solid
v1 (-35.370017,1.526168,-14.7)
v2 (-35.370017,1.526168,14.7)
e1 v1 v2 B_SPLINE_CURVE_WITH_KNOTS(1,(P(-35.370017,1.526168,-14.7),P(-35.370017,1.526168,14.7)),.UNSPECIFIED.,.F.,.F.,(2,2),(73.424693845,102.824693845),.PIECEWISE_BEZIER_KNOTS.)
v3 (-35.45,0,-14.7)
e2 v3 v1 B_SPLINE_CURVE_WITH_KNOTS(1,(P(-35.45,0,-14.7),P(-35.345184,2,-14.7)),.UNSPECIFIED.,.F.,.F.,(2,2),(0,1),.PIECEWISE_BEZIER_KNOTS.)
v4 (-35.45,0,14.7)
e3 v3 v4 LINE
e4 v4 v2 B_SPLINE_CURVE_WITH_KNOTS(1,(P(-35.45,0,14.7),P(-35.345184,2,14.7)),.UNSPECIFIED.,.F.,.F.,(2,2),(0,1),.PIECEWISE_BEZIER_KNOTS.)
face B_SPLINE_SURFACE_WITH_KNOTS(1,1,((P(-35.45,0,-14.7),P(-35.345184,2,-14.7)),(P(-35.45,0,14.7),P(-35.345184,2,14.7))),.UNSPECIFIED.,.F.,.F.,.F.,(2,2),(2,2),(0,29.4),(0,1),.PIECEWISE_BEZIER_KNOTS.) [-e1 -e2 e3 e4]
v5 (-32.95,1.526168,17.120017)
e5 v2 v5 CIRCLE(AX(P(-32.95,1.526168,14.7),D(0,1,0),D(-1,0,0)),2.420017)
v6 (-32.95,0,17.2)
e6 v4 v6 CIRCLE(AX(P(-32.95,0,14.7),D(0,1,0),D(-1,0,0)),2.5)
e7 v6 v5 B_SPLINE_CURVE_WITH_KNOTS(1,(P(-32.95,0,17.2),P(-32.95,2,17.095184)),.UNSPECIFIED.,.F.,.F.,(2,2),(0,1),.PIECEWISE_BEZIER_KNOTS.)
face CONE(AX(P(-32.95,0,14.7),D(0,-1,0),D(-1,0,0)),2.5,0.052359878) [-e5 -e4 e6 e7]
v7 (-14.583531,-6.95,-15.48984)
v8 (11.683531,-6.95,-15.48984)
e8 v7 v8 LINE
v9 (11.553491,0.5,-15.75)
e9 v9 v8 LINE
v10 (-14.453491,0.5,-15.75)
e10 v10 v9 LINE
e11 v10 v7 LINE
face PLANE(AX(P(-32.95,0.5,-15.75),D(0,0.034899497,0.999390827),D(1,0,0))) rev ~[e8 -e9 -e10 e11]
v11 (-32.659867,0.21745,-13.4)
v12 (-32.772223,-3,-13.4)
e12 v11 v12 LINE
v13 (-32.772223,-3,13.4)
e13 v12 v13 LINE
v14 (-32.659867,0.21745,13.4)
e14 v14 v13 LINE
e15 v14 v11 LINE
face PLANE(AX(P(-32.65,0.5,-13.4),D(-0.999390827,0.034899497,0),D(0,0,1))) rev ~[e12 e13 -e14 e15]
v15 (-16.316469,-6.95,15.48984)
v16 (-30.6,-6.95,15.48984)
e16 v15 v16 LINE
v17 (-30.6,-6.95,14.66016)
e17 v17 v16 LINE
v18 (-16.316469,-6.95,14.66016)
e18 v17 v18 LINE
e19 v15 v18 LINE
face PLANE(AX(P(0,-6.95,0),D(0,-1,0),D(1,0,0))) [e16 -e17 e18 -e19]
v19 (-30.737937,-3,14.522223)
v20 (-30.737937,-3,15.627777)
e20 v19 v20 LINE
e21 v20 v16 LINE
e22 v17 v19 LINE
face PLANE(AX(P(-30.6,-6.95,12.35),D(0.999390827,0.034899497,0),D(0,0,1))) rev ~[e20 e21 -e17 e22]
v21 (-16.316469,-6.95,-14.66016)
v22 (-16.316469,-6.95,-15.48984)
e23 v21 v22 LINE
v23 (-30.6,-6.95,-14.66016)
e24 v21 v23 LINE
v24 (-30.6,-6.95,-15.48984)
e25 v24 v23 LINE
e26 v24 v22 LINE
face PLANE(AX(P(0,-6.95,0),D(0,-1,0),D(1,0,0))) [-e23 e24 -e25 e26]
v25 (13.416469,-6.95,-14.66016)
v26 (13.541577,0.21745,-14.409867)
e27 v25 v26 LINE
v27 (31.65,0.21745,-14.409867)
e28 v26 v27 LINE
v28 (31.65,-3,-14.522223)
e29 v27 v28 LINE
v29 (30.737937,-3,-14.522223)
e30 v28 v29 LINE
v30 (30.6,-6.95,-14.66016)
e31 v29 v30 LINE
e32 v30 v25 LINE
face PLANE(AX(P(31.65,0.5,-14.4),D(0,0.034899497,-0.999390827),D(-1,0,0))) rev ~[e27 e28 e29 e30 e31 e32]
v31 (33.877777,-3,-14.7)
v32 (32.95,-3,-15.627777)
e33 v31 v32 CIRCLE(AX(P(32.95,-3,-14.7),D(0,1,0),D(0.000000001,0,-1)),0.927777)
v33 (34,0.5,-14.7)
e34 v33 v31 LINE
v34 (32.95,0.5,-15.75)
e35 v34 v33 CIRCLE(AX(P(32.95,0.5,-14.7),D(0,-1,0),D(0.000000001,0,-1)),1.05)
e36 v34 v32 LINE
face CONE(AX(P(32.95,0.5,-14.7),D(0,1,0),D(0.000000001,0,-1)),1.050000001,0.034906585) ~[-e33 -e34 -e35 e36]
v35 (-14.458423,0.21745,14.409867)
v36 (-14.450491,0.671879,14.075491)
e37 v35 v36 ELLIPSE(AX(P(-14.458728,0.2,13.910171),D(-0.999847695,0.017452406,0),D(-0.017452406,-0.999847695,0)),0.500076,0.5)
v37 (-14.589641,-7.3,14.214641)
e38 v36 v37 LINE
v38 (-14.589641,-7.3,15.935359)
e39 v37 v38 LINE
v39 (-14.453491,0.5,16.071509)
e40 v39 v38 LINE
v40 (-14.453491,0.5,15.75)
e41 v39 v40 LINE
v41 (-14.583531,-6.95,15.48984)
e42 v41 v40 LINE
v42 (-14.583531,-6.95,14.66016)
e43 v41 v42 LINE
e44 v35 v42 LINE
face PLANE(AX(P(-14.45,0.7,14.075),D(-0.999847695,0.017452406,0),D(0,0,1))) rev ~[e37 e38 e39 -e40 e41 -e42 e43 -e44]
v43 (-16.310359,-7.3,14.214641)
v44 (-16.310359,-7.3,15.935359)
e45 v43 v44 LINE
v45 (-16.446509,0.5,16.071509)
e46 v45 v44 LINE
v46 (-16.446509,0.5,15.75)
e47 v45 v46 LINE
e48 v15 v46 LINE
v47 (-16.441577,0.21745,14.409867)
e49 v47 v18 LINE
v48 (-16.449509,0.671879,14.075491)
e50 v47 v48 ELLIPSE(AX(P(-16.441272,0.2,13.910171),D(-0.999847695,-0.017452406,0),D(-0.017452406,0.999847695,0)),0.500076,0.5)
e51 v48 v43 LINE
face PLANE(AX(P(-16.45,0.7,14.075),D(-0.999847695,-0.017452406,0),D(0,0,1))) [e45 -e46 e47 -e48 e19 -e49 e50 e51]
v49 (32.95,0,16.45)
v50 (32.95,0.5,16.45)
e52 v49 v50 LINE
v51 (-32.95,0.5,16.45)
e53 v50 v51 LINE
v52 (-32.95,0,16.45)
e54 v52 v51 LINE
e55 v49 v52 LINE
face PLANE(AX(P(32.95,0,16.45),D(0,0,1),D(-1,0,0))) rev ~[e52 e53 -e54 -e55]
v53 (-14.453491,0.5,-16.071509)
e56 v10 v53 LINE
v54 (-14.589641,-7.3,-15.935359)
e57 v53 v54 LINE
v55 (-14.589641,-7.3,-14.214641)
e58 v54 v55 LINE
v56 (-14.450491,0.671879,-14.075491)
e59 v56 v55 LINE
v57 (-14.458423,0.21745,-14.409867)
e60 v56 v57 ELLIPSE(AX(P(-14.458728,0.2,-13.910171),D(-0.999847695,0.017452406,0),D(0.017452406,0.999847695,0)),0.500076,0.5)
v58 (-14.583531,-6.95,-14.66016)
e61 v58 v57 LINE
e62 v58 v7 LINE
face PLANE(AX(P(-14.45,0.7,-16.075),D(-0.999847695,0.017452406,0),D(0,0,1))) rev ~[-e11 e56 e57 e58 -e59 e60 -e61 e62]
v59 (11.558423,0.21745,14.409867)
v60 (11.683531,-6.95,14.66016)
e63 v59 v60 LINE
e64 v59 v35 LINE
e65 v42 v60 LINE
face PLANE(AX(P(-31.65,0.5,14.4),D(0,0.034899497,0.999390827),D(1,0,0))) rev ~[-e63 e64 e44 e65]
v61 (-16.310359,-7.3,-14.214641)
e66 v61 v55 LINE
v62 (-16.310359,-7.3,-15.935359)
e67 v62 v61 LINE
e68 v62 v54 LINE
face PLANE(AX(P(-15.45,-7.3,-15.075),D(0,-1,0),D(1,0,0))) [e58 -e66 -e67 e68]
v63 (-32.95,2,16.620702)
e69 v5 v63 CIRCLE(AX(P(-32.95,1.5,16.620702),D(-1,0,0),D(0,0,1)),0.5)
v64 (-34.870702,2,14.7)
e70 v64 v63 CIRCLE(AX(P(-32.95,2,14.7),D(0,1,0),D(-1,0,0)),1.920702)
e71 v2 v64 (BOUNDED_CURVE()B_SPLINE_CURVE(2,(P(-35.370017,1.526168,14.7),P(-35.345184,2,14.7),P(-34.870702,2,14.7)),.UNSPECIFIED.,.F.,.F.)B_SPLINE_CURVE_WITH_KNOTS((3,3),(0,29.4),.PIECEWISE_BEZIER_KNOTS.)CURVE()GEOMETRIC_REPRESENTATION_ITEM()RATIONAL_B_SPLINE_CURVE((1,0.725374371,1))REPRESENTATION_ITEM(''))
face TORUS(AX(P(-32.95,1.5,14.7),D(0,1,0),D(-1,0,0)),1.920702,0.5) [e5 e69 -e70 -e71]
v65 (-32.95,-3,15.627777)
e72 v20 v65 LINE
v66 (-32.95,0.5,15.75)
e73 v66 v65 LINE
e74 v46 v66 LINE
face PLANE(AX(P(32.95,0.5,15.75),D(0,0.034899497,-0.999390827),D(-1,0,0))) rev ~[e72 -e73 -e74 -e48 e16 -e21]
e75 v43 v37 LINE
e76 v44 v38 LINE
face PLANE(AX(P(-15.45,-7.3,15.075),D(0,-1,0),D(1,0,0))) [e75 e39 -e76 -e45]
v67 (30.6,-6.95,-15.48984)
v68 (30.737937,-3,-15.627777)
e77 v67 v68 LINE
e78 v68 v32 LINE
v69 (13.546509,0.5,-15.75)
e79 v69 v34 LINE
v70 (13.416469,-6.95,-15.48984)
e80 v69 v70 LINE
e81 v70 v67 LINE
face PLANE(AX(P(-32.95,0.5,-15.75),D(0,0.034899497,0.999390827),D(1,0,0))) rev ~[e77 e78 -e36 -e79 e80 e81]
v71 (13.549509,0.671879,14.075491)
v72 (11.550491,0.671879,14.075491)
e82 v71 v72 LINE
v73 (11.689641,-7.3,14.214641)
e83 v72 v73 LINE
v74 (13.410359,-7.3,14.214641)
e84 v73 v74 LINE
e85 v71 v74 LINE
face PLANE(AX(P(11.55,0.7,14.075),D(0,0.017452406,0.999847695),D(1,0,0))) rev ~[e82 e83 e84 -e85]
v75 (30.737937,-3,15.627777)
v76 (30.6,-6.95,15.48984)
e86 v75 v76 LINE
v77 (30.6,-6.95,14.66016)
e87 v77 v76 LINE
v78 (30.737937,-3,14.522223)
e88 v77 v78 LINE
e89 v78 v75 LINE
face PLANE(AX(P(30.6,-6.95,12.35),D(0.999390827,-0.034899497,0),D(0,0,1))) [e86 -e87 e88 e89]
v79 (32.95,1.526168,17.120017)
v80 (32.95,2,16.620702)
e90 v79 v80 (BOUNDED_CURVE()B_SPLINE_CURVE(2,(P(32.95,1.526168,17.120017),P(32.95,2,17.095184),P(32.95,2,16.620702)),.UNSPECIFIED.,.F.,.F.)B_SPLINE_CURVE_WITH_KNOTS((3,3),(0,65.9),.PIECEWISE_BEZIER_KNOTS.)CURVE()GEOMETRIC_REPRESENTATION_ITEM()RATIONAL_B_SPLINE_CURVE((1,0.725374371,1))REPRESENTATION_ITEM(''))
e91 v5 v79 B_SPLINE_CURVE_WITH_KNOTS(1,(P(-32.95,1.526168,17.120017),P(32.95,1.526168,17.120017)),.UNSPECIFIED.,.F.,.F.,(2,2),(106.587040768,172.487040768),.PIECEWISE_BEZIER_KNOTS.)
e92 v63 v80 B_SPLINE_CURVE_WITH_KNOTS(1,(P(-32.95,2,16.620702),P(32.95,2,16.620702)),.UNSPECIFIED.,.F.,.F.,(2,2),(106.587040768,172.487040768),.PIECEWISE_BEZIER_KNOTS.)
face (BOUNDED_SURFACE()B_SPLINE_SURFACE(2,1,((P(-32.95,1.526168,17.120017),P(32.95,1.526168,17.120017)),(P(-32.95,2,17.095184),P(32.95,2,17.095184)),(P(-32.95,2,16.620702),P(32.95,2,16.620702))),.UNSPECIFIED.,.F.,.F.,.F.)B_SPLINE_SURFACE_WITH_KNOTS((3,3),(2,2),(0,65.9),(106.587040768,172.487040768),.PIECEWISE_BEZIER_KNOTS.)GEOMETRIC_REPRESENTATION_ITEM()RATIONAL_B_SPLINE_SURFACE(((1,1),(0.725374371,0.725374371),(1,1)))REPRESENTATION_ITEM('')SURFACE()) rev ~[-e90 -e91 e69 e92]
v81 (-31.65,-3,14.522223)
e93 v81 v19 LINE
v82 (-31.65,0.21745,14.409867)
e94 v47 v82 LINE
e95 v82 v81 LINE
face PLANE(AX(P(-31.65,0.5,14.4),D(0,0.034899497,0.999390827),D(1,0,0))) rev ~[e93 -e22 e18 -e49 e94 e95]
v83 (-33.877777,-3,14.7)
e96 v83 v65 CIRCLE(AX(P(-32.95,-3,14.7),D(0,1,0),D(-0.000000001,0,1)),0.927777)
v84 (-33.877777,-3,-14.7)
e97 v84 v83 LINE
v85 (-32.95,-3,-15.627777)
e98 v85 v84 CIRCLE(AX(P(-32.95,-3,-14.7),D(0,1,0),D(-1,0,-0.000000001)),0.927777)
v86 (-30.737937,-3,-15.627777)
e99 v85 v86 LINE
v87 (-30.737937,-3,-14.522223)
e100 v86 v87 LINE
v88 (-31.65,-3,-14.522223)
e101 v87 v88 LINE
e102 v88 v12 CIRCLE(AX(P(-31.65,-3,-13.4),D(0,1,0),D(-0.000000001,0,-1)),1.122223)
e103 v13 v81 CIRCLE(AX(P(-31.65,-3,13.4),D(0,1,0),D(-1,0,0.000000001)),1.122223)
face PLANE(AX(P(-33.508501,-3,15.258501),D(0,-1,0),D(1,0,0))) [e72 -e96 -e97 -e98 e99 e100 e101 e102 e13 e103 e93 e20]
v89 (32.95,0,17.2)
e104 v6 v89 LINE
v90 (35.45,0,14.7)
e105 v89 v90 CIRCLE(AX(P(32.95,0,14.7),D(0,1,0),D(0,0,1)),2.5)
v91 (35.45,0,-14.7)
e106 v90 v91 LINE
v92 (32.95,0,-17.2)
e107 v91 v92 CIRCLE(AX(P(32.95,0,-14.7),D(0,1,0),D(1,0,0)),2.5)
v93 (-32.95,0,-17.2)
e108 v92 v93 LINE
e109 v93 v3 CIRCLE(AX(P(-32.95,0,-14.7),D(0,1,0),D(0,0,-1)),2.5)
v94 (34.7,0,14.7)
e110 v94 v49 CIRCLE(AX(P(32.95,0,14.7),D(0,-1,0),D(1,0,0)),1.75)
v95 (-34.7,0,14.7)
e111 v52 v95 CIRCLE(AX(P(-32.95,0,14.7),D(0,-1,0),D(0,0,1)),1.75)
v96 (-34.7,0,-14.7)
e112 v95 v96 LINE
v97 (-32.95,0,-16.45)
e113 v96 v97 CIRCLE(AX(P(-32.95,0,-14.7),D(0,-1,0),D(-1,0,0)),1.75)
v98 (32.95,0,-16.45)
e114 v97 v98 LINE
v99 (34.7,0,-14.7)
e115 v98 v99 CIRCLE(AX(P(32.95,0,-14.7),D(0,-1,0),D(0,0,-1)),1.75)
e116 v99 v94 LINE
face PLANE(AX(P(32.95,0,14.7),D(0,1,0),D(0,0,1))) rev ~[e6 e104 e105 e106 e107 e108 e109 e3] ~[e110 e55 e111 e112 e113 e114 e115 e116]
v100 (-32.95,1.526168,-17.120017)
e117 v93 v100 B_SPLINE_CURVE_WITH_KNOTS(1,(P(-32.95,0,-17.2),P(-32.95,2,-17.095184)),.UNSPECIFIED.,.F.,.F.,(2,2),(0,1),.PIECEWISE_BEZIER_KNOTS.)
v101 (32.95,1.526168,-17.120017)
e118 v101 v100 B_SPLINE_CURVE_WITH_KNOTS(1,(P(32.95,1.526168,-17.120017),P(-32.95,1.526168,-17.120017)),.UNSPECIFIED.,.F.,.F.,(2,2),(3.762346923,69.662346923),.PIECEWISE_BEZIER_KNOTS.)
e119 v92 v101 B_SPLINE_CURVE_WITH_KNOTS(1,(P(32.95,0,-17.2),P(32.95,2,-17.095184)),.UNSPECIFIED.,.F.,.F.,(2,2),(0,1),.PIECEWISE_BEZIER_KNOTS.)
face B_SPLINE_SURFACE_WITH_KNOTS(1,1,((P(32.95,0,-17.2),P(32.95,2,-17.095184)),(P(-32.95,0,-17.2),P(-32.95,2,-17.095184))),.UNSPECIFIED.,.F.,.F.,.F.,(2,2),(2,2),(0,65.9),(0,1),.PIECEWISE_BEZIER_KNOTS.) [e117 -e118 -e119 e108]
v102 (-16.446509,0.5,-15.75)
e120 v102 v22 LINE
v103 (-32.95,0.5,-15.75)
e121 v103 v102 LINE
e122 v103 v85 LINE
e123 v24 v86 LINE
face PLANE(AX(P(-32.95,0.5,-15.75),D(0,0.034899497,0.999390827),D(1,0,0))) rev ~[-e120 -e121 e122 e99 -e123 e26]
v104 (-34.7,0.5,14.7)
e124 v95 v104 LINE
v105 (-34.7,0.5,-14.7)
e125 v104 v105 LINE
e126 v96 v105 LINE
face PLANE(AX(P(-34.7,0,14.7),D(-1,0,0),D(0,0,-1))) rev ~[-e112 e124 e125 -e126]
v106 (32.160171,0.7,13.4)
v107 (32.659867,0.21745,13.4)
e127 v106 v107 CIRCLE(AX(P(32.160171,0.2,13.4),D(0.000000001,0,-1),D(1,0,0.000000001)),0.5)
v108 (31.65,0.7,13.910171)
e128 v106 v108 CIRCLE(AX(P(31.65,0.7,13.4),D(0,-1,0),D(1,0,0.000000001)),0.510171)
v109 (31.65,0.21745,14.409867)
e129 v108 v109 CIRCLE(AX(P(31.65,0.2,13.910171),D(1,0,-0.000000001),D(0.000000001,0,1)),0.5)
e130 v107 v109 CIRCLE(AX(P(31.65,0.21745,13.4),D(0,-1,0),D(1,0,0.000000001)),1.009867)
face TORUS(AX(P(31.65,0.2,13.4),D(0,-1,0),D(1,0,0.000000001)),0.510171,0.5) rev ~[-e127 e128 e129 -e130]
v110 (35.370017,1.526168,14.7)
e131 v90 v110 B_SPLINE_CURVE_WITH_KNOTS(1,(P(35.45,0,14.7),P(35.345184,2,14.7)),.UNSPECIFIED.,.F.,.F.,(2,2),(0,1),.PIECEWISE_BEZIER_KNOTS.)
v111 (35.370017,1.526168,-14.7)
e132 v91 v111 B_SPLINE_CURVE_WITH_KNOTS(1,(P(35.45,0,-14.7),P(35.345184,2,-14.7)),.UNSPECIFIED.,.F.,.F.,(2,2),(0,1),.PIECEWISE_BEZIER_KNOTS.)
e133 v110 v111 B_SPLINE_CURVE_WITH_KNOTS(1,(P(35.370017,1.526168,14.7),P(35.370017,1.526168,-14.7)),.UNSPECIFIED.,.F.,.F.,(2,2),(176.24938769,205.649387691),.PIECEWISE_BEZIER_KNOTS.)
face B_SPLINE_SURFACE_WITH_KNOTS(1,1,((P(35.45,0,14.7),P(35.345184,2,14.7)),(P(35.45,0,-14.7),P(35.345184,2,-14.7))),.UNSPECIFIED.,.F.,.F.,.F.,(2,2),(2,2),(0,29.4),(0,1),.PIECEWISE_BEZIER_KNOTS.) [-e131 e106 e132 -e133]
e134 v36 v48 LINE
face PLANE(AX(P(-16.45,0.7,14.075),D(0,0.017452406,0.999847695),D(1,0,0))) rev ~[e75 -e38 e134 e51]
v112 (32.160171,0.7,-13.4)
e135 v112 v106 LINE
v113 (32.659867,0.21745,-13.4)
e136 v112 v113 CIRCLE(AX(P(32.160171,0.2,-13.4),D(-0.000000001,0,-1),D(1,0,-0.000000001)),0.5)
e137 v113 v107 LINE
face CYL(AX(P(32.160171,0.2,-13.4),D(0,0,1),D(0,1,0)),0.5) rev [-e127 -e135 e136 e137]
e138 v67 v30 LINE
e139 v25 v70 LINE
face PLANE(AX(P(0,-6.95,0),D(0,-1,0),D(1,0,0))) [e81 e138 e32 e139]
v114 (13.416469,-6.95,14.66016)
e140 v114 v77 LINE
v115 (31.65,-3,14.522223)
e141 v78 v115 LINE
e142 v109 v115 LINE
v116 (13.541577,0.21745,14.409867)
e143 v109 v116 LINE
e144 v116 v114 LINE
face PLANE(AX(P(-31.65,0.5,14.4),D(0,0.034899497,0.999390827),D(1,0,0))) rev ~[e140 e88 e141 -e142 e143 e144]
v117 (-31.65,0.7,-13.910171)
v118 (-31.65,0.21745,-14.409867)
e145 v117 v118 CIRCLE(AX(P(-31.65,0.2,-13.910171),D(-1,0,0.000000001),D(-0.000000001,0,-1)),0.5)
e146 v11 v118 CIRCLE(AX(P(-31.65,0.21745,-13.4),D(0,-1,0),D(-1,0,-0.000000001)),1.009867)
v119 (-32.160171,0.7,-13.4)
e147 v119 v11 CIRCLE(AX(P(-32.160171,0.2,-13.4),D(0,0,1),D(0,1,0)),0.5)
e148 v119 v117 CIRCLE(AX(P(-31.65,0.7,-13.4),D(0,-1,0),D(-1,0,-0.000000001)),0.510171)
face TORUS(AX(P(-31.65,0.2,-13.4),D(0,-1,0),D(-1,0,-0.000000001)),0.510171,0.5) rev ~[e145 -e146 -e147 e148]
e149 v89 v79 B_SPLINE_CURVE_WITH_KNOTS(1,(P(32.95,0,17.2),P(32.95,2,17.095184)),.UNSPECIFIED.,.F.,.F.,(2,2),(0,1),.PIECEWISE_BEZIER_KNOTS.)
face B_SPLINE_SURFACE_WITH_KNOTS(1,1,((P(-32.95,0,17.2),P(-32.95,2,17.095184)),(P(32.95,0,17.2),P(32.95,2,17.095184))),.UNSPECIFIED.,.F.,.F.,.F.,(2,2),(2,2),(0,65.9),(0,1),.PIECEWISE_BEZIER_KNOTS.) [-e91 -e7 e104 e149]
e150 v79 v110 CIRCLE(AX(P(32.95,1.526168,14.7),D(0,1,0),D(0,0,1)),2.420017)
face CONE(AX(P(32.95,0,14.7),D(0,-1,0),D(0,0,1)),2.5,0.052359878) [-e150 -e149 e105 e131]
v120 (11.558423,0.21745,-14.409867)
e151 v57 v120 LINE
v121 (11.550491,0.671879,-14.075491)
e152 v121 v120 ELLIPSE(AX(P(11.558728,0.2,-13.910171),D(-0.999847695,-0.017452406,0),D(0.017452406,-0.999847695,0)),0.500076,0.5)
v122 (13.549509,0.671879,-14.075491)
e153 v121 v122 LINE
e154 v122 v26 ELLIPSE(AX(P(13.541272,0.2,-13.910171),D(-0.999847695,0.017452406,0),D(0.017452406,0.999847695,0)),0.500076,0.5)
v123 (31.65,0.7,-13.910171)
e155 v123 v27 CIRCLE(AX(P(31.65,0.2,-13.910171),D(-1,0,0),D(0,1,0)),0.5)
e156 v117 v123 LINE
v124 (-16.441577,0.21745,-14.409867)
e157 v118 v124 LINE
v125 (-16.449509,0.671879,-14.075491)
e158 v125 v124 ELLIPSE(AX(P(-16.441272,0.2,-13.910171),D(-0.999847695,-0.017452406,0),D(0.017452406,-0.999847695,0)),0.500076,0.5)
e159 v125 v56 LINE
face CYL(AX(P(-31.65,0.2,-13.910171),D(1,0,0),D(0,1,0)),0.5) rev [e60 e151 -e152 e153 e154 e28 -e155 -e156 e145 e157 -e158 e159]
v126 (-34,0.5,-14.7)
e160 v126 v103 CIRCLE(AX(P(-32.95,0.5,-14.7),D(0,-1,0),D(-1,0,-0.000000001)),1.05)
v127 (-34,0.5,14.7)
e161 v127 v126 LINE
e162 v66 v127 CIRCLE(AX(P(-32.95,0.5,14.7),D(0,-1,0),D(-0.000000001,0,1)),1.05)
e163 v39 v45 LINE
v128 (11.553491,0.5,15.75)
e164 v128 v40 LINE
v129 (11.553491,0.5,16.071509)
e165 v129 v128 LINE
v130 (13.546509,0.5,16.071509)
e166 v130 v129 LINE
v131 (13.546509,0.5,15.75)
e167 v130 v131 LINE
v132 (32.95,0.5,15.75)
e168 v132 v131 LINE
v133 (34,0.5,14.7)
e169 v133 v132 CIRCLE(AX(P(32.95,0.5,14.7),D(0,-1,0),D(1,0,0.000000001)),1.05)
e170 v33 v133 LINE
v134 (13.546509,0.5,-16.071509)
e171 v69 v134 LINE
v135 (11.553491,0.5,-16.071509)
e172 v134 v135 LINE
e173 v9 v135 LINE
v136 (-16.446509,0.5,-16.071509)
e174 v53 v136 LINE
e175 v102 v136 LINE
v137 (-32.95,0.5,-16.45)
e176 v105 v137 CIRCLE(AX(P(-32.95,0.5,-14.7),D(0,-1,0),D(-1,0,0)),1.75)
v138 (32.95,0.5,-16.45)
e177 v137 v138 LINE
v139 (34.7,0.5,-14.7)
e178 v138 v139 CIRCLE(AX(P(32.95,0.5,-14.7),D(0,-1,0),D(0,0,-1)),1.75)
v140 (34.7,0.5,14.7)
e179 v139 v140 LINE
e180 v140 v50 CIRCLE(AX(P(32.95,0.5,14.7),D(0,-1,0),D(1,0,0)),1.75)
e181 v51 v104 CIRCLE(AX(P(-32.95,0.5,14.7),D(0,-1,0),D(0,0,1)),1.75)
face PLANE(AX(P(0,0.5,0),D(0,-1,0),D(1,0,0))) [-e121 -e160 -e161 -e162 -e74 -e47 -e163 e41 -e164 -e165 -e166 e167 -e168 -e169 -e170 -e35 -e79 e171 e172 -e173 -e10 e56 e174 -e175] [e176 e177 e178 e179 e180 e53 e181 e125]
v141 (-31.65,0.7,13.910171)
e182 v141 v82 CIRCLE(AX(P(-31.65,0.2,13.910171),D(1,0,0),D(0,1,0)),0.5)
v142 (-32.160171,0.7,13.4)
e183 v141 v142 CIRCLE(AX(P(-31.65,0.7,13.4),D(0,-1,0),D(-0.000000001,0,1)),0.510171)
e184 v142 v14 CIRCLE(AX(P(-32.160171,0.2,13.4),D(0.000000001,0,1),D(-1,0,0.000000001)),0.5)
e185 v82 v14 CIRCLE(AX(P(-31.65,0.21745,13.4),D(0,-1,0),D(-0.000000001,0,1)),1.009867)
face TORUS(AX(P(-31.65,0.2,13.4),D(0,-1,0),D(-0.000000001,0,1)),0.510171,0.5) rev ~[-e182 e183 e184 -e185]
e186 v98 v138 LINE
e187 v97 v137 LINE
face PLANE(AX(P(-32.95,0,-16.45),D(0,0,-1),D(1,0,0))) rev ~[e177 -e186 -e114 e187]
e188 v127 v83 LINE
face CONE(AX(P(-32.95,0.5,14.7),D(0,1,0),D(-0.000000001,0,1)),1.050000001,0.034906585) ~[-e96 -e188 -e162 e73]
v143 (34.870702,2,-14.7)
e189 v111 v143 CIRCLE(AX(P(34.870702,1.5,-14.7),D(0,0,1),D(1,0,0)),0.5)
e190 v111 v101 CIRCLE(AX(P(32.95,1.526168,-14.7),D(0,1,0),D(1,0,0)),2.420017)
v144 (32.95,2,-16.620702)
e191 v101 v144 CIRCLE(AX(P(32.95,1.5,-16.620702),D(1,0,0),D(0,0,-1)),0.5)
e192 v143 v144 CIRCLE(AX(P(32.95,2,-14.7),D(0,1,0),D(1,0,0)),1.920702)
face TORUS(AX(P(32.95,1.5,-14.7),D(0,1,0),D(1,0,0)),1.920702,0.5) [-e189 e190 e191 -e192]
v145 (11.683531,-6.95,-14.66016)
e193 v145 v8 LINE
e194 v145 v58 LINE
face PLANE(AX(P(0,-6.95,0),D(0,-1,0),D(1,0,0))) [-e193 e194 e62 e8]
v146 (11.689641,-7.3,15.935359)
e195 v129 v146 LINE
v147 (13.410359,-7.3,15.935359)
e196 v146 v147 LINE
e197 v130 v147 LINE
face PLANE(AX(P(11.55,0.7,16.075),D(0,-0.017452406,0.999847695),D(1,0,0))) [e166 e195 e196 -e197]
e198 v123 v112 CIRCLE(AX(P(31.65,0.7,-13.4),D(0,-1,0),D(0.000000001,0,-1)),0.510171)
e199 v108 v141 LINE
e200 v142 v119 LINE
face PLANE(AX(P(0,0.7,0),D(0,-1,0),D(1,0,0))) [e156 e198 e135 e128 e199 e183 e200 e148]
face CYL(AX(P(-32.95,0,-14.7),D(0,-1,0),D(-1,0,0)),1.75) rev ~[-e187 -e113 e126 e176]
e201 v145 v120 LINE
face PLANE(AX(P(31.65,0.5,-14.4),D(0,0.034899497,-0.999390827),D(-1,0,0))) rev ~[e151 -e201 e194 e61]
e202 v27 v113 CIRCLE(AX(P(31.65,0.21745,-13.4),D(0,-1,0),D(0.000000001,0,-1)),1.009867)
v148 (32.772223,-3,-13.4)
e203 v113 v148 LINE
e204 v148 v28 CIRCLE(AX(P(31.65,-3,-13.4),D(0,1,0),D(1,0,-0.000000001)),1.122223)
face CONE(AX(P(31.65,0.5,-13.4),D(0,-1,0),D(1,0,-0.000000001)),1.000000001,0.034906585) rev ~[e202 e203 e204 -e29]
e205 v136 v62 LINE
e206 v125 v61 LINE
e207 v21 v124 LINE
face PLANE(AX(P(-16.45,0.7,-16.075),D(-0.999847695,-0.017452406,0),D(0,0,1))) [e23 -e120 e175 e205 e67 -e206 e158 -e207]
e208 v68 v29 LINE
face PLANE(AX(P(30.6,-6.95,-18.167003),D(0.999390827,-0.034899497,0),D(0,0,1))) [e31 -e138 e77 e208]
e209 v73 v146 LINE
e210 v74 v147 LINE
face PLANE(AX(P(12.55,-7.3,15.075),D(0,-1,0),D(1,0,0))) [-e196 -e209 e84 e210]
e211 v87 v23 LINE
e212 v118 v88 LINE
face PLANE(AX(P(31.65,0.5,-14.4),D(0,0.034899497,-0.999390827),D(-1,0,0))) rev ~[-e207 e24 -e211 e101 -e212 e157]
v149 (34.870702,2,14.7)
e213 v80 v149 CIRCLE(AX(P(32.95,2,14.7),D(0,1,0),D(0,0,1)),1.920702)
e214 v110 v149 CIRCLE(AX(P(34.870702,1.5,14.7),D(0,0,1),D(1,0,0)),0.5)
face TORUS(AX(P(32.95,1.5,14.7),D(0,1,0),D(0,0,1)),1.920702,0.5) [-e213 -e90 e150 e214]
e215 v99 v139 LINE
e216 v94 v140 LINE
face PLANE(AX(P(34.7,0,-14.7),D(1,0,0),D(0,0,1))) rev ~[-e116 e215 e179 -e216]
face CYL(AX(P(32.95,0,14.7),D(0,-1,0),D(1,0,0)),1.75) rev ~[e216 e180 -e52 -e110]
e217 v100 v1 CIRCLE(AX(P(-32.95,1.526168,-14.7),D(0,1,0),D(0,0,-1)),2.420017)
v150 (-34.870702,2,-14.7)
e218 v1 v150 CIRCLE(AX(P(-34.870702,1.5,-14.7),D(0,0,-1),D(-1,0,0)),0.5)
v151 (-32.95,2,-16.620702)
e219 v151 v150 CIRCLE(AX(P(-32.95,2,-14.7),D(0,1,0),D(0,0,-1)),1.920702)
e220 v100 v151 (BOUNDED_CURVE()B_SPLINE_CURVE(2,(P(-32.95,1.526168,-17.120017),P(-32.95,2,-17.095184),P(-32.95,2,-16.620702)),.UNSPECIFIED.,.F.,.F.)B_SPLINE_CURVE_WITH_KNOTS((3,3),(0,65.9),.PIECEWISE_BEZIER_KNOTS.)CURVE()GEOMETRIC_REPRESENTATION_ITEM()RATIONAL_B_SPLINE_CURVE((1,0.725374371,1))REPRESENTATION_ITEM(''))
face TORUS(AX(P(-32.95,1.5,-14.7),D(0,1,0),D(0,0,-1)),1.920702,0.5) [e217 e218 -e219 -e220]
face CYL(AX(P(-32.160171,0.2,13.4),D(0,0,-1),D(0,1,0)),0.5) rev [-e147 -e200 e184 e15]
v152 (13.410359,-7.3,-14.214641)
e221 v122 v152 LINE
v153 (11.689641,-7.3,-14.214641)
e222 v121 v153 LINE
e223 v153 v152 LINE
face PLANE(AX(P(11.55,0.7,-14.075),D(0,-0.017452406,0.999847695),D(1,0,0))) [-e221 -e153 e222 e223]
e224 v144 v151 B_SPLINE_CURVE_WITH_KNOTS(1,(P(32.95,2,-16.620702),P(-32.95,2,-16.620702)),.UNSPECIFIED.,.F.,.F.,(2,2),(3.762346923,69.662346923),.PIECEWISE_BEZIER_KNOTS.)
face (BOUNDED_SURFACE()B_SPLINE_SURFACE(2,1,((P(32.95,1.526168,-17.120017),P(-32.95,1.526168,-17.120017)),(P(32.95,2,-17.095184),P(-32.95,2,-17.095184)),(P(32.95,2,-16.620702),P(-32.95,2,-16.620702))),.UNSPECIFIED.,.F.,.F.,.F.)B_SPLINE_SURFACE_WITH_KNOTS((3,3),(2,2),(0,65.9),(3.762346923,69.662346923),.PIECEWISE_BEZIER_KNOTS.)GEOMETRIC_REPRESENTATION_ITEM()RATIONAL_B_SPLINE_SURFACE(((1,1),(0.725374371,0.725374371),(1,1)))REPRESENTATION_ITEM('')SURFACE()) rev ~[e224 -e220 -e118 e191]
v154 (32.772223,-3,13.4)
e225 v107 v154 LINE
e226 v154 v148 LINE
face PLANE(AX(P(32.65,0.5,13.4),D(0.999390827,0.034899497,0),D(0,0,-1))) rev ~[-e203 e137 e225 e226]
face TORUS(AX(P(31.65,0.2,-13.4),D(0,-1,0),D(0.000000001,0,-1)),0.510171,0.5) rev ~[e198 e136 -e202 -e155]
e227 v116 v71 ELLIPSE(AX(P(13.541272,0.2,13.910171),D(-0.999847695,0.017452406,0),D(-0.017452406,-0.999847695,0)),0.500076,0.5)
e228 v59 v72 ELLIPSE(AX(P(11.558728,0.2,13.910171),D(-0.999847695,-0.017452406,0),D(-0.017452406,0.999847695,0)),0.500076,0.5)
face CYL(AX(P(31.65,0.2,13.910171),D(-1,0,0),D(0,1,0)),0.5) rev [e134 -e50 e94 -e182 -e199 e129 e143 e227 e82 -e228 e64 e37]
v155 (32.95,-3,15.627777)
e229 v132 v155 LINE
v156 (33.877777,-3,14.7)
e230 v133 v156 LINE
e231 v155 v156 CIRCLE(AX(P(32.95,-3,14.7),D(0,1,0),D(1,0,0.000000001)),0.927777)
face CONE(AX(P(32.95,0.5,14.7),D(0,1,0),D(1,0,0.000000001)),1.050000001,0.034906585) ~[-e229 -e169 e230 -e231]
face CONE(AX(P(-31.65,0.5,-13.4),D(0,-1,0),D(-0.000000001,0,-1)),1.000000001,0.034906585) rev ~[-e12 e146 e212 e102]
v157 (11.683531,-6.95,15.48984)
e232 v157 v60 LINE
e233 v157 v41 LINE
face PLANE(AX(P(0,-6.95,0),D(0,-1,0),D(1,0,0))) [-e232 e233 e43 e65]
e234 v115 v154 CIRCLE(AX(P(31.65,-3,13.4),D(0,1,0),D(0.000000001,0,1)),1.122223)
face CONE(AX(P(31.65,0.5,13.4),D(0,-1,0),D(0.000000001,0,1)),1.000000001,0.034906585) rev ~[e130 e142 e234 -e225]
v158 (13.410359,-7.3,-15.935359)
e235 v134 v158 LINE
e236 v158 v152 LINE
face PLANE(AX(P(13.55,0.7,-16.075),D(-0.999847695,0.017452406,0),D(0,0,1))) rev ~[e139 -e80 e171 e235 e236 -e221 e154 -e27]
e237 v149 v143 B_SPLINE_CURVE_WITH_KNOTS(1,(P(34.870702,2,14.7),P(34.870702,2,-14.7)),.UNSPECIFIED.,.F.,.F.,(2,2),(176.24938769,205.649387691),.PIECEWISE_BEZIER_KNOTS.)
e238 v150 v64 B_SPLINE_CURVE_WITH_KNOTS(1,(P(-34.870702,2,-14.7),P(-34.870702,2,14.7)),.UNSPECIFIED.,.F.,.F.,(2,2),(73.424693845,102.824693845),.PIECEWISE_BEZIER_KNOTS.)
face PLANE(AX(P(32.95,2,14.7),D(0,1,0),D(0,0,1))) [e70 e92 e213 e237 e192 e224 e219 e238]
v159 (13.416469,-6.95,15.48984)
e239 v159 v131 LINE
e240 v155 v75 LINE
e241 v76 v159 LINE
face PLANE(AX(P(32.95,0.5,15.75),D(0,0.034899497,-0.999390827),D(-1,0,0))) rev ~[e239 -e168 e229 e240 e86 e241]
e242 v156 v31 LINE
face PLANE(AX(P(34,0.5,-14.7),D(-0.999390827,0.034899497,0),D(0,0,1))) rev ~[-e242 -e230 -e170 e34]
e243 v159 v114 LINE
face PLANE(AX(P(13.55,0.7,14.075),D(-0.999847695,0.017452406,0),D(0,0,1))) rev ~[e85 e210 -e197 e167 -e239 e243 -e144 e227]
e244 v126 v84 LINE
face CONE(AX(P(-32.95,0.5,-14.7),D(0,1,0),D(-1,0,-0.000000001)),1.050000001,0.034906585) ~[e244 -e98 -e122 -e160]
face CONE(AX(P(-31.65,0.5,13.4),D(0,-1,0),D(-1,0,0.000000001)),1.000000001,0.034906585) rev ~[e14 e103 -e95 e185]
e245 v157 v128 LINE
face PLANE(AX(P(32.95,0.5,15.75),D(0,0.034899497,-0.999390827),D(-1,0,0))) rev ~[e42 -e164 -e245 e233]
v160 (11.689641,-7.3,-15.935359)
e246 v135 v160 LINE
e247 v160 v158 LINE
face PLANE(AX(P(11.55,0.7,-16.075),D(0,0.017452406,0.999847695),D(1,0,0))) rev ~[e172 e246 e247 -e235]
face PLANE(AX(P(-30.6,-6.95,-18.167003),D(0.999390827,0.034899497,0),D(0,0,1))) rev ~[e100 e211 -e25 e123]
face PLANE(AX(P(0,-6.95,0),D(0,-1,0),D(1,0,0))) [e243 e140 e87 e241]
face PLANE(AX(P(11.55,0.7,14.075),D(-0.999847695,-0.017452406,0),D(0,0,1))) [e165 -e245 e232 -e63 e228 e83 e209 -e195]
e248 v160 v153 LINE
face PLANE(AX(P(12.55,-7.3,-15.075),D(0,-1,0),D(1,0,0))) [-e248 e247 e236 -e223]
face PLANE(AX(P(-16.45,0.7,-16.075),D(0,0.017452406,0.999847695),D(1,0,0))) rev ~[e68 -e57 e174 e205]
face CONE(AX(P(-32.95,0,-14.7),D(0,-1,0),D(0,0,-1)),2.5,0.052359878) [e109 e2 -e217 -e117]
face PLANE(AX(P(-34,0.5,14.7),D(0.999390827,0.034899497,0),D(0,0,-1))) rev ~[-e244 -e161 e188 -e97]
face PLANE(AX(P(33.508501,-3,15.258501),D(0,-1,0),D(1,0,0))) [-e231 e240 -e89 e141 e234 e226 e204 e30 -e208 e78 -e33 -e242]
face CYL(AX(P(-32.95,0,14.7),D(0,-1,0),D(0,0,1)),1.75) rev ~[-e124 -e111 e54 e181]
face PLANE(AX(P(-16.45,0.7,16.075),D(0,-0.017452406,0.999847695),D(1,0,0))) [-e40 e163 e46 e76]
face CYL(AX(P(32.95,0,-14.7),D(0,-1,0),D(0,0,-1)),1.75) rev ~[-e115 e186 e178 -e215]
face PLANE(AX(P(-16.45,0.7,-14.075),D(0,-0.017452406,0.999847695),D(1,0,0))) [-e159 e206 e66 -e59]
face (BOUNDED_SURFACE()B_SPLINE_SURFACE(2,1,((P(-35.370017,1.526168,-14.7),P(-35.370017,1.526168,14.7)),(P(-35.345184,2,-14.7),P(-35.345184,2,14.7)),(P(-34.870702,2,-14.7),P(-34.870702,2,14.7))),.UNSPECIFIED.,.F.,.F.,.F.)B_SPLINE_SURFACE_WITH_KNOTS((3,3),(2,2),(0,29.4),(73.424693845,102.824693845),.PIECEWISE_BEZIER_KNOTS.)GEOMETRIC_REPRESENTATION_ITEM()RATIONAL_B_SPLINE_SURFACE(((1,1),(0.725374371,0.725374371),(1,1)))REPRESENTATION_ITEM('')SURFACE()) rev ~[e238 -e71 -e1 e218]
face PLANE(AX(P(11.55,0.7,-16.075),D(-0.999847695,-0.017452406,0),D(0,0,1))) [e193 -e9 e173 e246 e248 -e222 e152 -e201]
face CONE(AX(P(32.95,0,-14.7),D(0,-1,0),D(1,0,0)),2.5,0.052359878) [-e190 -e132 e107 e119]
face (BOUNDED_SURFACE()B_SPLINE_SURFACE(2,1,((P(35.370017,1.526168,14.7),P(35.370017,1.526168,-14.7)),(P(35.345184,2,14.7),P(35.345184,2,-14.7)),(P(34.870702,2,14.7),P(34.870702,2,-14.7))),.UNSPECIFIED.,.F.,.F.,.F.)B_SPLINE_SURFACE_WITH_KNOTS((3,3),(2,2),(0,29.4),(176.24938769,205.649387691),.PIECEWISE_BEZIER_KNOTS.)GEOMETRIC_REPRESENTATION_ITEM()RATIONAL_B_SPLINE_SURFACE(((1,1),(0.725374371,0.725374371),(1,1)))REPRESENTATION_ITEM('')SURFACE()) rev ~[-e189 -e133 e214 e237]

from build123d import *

# Parameters (mm, degrees)
BOSS_EXTRUDE1_DEPTH           = 2
BOSS_EXTRUDE1_TAPER           = 3
FILLET1_R                     = 0.5
CUT_EXTRUDE1_DEPTH            = 0.5
BOSS_EXTRUDE2_DEPTH           = 7.45
BOSS_EXTRUDE2_DRAFT           = 2
CUT_EXTRUDE2_DEPTH            = 0.2
CUT_EXTRUDE2_DRAFT            = -2
SKETCH7_W                     = 80
SKETCH7_H                     = 26.5
CUT_EXTRUDE3_DEPTH            = 3.95
SKETCH6_W                     = 5.817002818
SKETCH6_H                     = 5.817002818
CUT_EXTRUDE4_DEPTH            = 3.95
CUT_EXTRUDE4_DRAFT            = -2
CUT_EXTRUDE4_PROFILE_2_DEPTH  = 3.95
CUT_EXTRUDE4_PROFILE_2_DRAFT  = -2
CUT_EXTRUDE4_PROFILE_3_DEPTH  = 3.95
CUT_EXTRUDE4_PROFILE_3_DRAFT  = -2
CUT_EXTRUDE4_PROFILE_4_DEPTH  = 3.95
CUT_EXTRUDE4_PROFILE_4_DRAFT  = -2
FILLET3_R                     = 0.5
SKETCH16_W                    = 2
SKETCH16_H                    = 2
BOSS_EXTRUDE7_DEPTH           = 8
BOSS_EXTRUDE7_DRAFT           = 1
BOSS_EXTRUDE7_PROFILE_2_DEPTH = 8
BOSS_EXTRUDE7_PROFILE_2_DRAFT = 1
BOSS_EXTRUDE7_PROFILE_3_DEPTH = 8
BOSS_EXTRUDE7_PROFILE_3_DRAFT = 1
BOSS_EXTRUDE7_PROFILE_4_DEPTH = 8
BOSS_EXTRUDE7_PROFILE_4_DRAFT = 1


with BuildPart() as part:
    # Sketch1 → Boss-Extrude1 (new body)
    with BuildSketch(Plane(origin=(0, 0, 0), x_dir=(1, 0, 0), z_dir=(0, 1, 0))):
        with BuildLine():
            Line((-32.95, -17.2), (32.95, -17.2))
            ThreePointArc((32.95, -17.2), (34.717766953, -16.467766953), (35.45, -14.7))
            Line((35.45, -14.7), (35.45, 14.7))
            ThreePointArc((35.45, 14.7), (34.717766953, 16.467766953), (32.95, 17.2))
            Line((32.95, 17.2), (-32.95, 17.2))
            ThreePointArc((-32.95, 17.2), (-34.717766953, 16.467766953), (-35.45, 14.7))
            Line((-35.45, 14.7), (-35.45, -14.7))
            ThreePointArc((-35.45, -14.7), (-34.717766953, -16.467766953), (-32.95, -17.2))
        make_face()
    extrude(amount=BOSS_EXTRUDE1_DEPTH, taper=BOSS_EXTRUDE1_TAPER)

    # Fillet1
    fillet1_edges = [part.edges().sort_by_distance(p)[0] for p in [
        (34.643651161, 2, -16.393651161),
        (0, 2, -17.095184441),
        (-34.643651161, 2, -16.393651161),
        (-35.345184441, 2, 0),
        (-34.643651161, 2, 16.393651161),
        (0, 2, 17.095184441),
        (34.643651161, 2, 16.393651161),
        (35.345184441, 2, 0),
    ]]
    fillet(fillet1_edges, radius=FILLET1_R)

    # Sketch2 → Cut-Extrude1 (cut)
    with BuildSketch(Plane.XZ):
        with BuildLine():
            Line((32.95, 16.45), (-32.95, 16.45))
            ThreePointArc((-32.95, 16.45), (-34.187436867, 15.937436867), (-34.7, 14.7))
            Line((-34.7, 14.7), (-34.7, -14.7))
            ThreePointArc((-34.7, -14.7), (-34.187436867, -15.937436867), (-32.95, -16.45))
            Line((-32.95, -16.45), (32.95, -16.45))
            ThreePointArc((32.95, -16.45), (34.187436867, -15.937436867), (34.7, -14.7))
            Line((34.7, -14.7), (34.7, 14.7))
            ThreePointArc((34.7, 14.7), (34.187436867, 15.937436867), (32.95, 16.45))
        make_face()
    extrude(amount=-CUT_EXTRUDE1_DEPTH, mode=Mode.SUBTRACT)


with BuildPart() as boss_extrude2_tool:
    # Sketch4 → Boss-Extrude2 (with draft: the straight prism first)
    with BuildSketch(Plane.XZ.offset(-0.5)):
        with BuildLine():
            Line((32.95, 15.75), (-32.95, 15.75))
            ThreePointArc((-32.95, 15.75), (-33.69246212, 15.44246212), (-34, 14.7))
            Line((-34, 14.7), (-34, -14.7))
            ThreePointArc((-34, -14.7), (-33.69246212, -15.44246212), (-32.95, -15.75))
            Line((-32.95, -15.75), (32.95, -15.75))
            ThreePointArc((32.95, -15.75), (33.69246212, -15.44246212), (34, -14.7))
            Line((34, -14.7), (34, 14.7))
            ThreePointArc((34, 14.7), (33.69246212, 15.44246212), (32.95, 15.75))
        make_face()
        with BuildLine():
            Line((31.65, -14.4), (-31.65, -14.4))
            ThreePointArc((-31.65, -14.4), (-32.357106781, -14.107106781), (-32.65, -13.4))
            Line((-32.65, -13.4), (-32.65, 13.4))
            ThreePointArc((-32.65, 13.4), (-32.357106781, 14.107106781), (-31.65, 14.4))
            Line((-31.65, 14.4), (31.65, 14.4))
            ThreePointArc((31.65, 14.4), (32.357106781, 14.107106781), (32.65, 13.4))
            Line((32.65, 13.4), (32.65, -13.4))
            ThreePointArc((32.65, -13.4), (32.357106781, -14.107106781), (31.65, -14.4))
        make_face(mode=Mode.SUBTRACT)
    extrude(amount=BOSS_EXTRUDE2_DEPTH)
    # Boss-Extrude2: the draft: its side faces are tilted about the plane it starts from
    boss_extrude2_sides = [boss_extrude2_tool.faces().sort_by_distance(p)[0] for p in [
        (0, -3.225, 15.75),
        (-33.69246212, -3.225, 15.44246212),
        (-34, -3.225, 0),
        (-33.69246212, -3.225, -15.44246212),
        (0, -3.225, -15.75),
        (33.69246212, -3.225, -15.44246212),
        (34, -3.225, 0),
        (33.69246212, -3.225, 15.44246212),
        (0, -3.225, -14.4),
        (-32.357106781, -3.225, -14.107106781),
        (-32.65, -3.225, 0),
        (-32.357106781, -3.225, 14.107106781),
        (0, -3.225, 14.4),
        (32.357106781, -3.225, 14.107106781),
        (32.65, -3.225, 0),
        (32.357106781, -3.225, -14.107106781),
    ]]
    draft(boss_extrude2_sides, Plane.XZ.offset(-0.5), BOSS_EXTRUDE2_DRAFT)


with BuildPart() as part_1:
    add(part.part)

    # Boss-Extrude2: add boss_extrude2_tool
    add(boss_extrude2_tool.part)


with BuildPart() as cut_extrude2_tool:
    # Sketch5 → Cut-Extrude2 (with draft: the straight prism first)
    with BuildSketch(Plane.XZ.offset(-0.5)):
        with BuildLine():
            Line((31.65, 14.4), (-31.65, 14.4))
            ThreePointArc((-31.65, 14.4), (-32.357106781, 14.107106781), (-32.65, 13.4))
            Line((-32.65, 13.4), (-32.65, -13.4))
            ThreePointArc((-32.65, -13.4), (-32.357106781, -14.107106781), (-31.65, -14.4))
            Line((-31.65, -14.4), (31.65, -14.4))
            ThreePointArc((31.65, -14.4), (32.357106781, -14.107106781), (32.65, -13.4))
            Line((32.65, -13.4), (32.65, 13.4))
            ThreePointArc((32.65, 13.4), (32.357106781, 14.107106781), (31.65, 14.4))
        make_face()
    extrude(amount=-CUT_EXTRUDE2_DEPTH)
    # Cut-Extrude2: the draft: its side faces are tilted about the plane it starts from
    cut_extrude2_sides = [cut_extrude2_tool.faces().sort_by_distance(p)[0] for p in [
        (0, 0.6, 14.4),
        (-32.357106781, 0.6, 14.107106781),
        (-32.65, 0.6, 0),
        (-32.357106781, 0.6, -14.107106781),
        (0, 0.6, -14.4),
        (32.357106781, 0.6, -14.107106781),
        (32.65, 0.6, 0),
        (32.357106781, 0.6, 14.107106781),
    ]]
    draft(cut_extrude2_sides, Plane.XZ.offset(-0.5), CUT_EXTRUDE2_DRAFT)


with BuildPart() as part_2:
    add(part_1.part)

    # Cut-Extrude2: cut by cut_extrude2_tool
    add(cut_extrude2_tool.part, mode=Mode.SUBTRACT)

    # Sketch7 → Cut-Extrude3 (cut)
    with BuildSketch(Plane.XZ.offset(6.95)):
        Rectangle(SKETCH7_W, SKETCH7_H)
    extrude(amount=-CUT_EXTRUDE3_DEPTH, mode=Mode.SUBTRACT)


with BuildPart() as cut_extrude4_tool:
    # Sketch6 → Cut-Extrude4 (with draft: the straight prism first)
    with BuildSketch(Plane.XZ.offset(6.95)):
        with Locations((-33.508501409, 15.258501409)):
            Rectangle(SKETCH6_W, SKETCH6_H)
    extrude(amount=-CUT_EXTRUDE4_DEPTH)
    # Cut-Extrude4: the draft: its side faces are tilted about the plane it starts from
    cut_extrude4_sides = [cut_extrude4_tool.faces().sort_by_distance(p)[0] for p in [
        (-36.417002818, -4.975, 15.258501409),
        (-33.508501409, -4.975, 12.35),
        (-30.6, -4.975, 15.258501409),
        (-33.508501409, -4.975, 18.167002818),
    ]]
    draft(cut_extrude4_sides, Plane.XZ.offset(6.95), CUT_EXTRUDE4_DRAFT)


with BuildPart() as part_3:
    add(part_2.part)

    # Cut-Extrude4: cut by cut_extrude4_tool
    add(cut_extrude4_tool.part, mode=Mode.SUBTRACT)


with BuildPart() as cut_extrude4_profile_2_tool:
    # Sketch6 → Cut-Extrude4 profile 2 (with draft: the straight prism first)
    with BuildSketch(Plane.XZ.offset(6.95)):
        with Locations((33.508501409, 15.258501409)):
            Rectangle(SKETCH6_W, SKETCH6_H)
    extrude(amount=-CUT_EXTRUDE4_PROFILE_2_DEPTH)
    # Cut-Extrude4 profile 2: the draft: its side faces are tilted about the plane it starts from
    cut_extrude4_profile_2_sides = [cut_extrude4_profile_2_tool.faces().sort_by_distance(p)[0] for p in [
        (30.6, -4.975, 15.258501409),
        (33.508501409, -4.975, 12.35),
        (36.417002818, -4.975, 15.258501409),
        (33.508501409, -4.975, 18.167002818),
    ]]
    draft(cut_extrude4_profile_2_sides, Plane.XZ.offset(6.95), CUT_EXTRUDE4_PROFILE_2_DRAFT)


with BuildPart() as part_4:
    add(part_3.part)

    # Cut-Extrude4 profile 2: cut by cut_extrude4_profile_2_tool
    add(cut_extrude4_profile_2_tool.part, mode=Mode.SUBTRACT)


with BuildPart() as cut_extrude4_profile_3_tool:
    # Sketch6 → Cut-Extrude4 profile 3 (with draft: the straight prism first)
    with BuildSketch(Plane.XZ.offset(6.95)):
        with Locations((33.508501409, -15.258501409)):
            Rectangle(SKETCH6_W, SKETCH6_H)
    extrude(amount=-CUT_EXTRUDE4_PROFILE_3_DEPTH)
    # Cut-Extrude4 profile 3: the draft: its side faces are tilted about the plane it starts from
    cut_extrude4_profile_3_sides = [cut_extrude4_profile_3_tool.faces().sort_by_distance(p)[0] for p in [
        (36.417002818, -4.975, -15.258501409),
        (33.508501409, -4.975, -12.35),
        (30.6, -4.975, -15.258501409),
        (33.508501409, -4.975, -18.167002818),
    ]]
    draft(cut_extrude4_profile_3_sides, Plane.XZ.offset(6.95), CUT_EXTRUDE4_PROFILE_3_DRAFT)


with BuildPart() as part_5:
    add(part_4.part)

    # Cut-Extrude4 profile 3: cut by cut_extrude4_profile_3_tool
    add(cut_extrude4_profile_3_tool.part, mode=Mode.SUBTRACT)


with BuildPart() as cut_extrude4_profile_4_tool:
    # Sketch6 → Cut-Extrude4 profile 4 (with draft: the straight prism first)
    with BuildSketch(Plane.XZ.offset(6.95)):
        with Locations((-33.508501409, -15.258501409)):
            Rectangle(SKETCH6_W, SKETCH6_H)
    extrude(amount=-CUT_EXTRUDE4_PROFILE_4_DEPTH)
    # Cut-Extrude4 profile 4: the draft: its side faces are tilted about the plane it starts from
    cut_extrude4_profile_4_sides = [cut_extrude4_profile_4_tool.faces().sort_by_distance(p)[0] for p in [
        (-30.6, -4.975, -15.258501409),
        (-33.508501409, -4.975, -12.35),
        (-36.417002818, -4.975, -15.258501409),
        (-33.508501409, -4.975, -18.167002818),
    ]]
    draft(cut_extrude4_profile_4_sides, Plane.XZ.offset(6.95), CUT_EXTRUDE4_PROFILE_4_DRAFT)


with BuildPart() as part_6:
    add(part_5.part)

    # Cut-Extrude4 profile 4: cut by cut_extrude4_profile_4_tool
    add(cut_extrude4_profile_4_tool.part, mode=Mode.SUBTRACT)

    # Fillet3
    fillet3_edges = [part_6.edges().sort_by_distance(p)[0] for p in [
        (32.352168239, 0.7, 14.102168239),
        (32.643015846, 0.7, 0),
        (32.352168239, 0.7, -14.102168239),
        (0, 0.7, -14.393015846),
        (-32.352168239, 0.7, -14.102168239),
        (-32.643015846, 0.7, 0),
        (-32.352168239, 0.7, 14.102168239),
        (0, 0.7, 14.393015846),
    ]]
    fillet(fillet3_edges, radius=FILLET3_R)


with BuildPart() as boss_extrude7_tool:
    # Sketch16 → Boss-Extrude7 (with draft: the straight prism first)
    with BuildSketch(Plane.XZ.offset(-0.7)):
        with Locations((-15.45, 15.075)):
            Rectangle(SKETCH16_W, SKETCH16_H)
    extrude(amount=BOSS_EXTRUDE7_DEPTH)
    # Boss-Extrude7: the draft: its side faces are tilted about the plane it starts from
    boss_extrude7_sides = [boss_extrude7_tool.faces().sort_by_distance(p)[0] for p in [
        (-15.45, -3.3, 14.075),
        (-14.45, -3.3, 15.075),
        (-15.45, -3.3, 16.075),
        (-16.45, -3.3, 15.075),
    ]]
    draft(boss_extrude7_sides, Plane.XZ.offset(-0.7), BOSS_EXTRUDE7_DRAFT)


with BuildPart() as part_7:
    add(part_6.part)

    # Boss-Extrude7: add boss_extrude7_tool
    add(boss_extrude7_tool.part)


with BuildPart() as boss_extrude7_profile_2_tool:
    # Sketch16 → Boss-Extrude7 profile 2 (with draft: the straight prism first)
    with BuildSketch(Plane.XZ.offset(-0.7)):
        with Locations((12.55, 15.075)):
            Rectangle(SKETCH16_W, SKETCH16_H)
    extrude(amount=BOSS_EXTRUDE7_PROFILE_2_DEPTH)
    # Boss-Extrude7 profile 2: the draft: its side faces are tilted about the plane it starts from
    boss_extrude7_profile_2_sides = [boss_extrude7_profile_2_tool.faces().sort_by_distance(p)[0] for p in [
        (12.55, -3.3, 14.075),
        (13.55, -3.3, 15.075),
        (12.55, -3.3, 16.075),
        (11.55, -3.3, 15.075),
    ]]
    draft(boss_extrude7_profile_2_sides, Plane.XZ.offset(-0.7), BOSS_EXTRUDE7_PROFILE_2_DRAFT)


with BuildPart() as part_8:
    add(part_7.part)

    # Boss-Extrude7 profile 2: add boss_extrude7_profile_2_tool
    add(boss_extrude7_profile_2_tool.part)


with BuildPart() as boss_extrude7_profile_3_tool:
    # Sketch16 → Boss-Extrude7 profile 3 (with draft: the straight prism first)
    with BuildSketch(Plane.XZ.offset(-0.7)):
        with Locations((12.55, -15.075)):
            Rectangle(SKETCH16_W, SKETCH16_H)
    extrude(amount=BOSS_EXTRUDE7_PROFILE_3_DEPTH)
    # Boss-Extrude7 profile 3: the draft: its side faces are tilted about the plane it starts from
    boss_extrude7_profile_3_sides = [boss_extrude7_profile_3_tool.faces().sort_by_distance(p)[0] for p in [
        (12.55, -3.3, -14.075),
        (11.55, -3.3, -15.075),
        (12.55, -3.3, -16.075),
        (13.55, -3.3, -15.075),
    ]]
    draft(boss_extrude7_profile_3_sides, Plane.XZ.offset(-0.7), BOSS_EXTRUDE7_PROFILE_3_DRAFT)


with BuildPart() as part_9:
    add(part_8.part)

    # Boss-Extrude7 profile 3: add boss_extrude7_profile_3_tool
    add(boss_extrude7_profile_3_tool.part)


with BuildPart() as boss_extrude7_profile_4_tool:
    # Sketch16 → Boss-Extrude7 profile 4 (with draft: the straight prism first)
    with BuildSketch(Plane.XZ.offset(-0.7)):
        with Locations((-15.45, -15.075)):
            Rectangle(SKETCH16_W, SKETCH16_H)
    extrude(amount=BOSS_EXTRUDE7_PROFILE_4_DEPTH)
    # Boss-Extrude7 profile 4: the draft: its side faces are tilted about the plane it starts from
    boss_extrude7_profile_4_sides = [boss_extrude7_profile_4_tool.faces().sort_by_distance(p)[0] for p in [
        (-15.45, -3.3, -14.075),
        (-16.45, -3.3, -15.075),
        (-15.45, -3.3, -16.075),
        (-14.45, -3.3, -15.075),
    ]]
    draft(boss_extrude7_profile_4_sides, Plane.XZ.offset(-0.7), BOSS_EXTRUDE7_PROFILE_4_DRAFT)


with BuildPart() as part_10:
    add(part_9.part)

    # Boss-Extrude7 profile 4: add boss_extrude7_profile_4_tool
    add(boss_extrude7_profile_4_tool.part)


solid = part_10.part
